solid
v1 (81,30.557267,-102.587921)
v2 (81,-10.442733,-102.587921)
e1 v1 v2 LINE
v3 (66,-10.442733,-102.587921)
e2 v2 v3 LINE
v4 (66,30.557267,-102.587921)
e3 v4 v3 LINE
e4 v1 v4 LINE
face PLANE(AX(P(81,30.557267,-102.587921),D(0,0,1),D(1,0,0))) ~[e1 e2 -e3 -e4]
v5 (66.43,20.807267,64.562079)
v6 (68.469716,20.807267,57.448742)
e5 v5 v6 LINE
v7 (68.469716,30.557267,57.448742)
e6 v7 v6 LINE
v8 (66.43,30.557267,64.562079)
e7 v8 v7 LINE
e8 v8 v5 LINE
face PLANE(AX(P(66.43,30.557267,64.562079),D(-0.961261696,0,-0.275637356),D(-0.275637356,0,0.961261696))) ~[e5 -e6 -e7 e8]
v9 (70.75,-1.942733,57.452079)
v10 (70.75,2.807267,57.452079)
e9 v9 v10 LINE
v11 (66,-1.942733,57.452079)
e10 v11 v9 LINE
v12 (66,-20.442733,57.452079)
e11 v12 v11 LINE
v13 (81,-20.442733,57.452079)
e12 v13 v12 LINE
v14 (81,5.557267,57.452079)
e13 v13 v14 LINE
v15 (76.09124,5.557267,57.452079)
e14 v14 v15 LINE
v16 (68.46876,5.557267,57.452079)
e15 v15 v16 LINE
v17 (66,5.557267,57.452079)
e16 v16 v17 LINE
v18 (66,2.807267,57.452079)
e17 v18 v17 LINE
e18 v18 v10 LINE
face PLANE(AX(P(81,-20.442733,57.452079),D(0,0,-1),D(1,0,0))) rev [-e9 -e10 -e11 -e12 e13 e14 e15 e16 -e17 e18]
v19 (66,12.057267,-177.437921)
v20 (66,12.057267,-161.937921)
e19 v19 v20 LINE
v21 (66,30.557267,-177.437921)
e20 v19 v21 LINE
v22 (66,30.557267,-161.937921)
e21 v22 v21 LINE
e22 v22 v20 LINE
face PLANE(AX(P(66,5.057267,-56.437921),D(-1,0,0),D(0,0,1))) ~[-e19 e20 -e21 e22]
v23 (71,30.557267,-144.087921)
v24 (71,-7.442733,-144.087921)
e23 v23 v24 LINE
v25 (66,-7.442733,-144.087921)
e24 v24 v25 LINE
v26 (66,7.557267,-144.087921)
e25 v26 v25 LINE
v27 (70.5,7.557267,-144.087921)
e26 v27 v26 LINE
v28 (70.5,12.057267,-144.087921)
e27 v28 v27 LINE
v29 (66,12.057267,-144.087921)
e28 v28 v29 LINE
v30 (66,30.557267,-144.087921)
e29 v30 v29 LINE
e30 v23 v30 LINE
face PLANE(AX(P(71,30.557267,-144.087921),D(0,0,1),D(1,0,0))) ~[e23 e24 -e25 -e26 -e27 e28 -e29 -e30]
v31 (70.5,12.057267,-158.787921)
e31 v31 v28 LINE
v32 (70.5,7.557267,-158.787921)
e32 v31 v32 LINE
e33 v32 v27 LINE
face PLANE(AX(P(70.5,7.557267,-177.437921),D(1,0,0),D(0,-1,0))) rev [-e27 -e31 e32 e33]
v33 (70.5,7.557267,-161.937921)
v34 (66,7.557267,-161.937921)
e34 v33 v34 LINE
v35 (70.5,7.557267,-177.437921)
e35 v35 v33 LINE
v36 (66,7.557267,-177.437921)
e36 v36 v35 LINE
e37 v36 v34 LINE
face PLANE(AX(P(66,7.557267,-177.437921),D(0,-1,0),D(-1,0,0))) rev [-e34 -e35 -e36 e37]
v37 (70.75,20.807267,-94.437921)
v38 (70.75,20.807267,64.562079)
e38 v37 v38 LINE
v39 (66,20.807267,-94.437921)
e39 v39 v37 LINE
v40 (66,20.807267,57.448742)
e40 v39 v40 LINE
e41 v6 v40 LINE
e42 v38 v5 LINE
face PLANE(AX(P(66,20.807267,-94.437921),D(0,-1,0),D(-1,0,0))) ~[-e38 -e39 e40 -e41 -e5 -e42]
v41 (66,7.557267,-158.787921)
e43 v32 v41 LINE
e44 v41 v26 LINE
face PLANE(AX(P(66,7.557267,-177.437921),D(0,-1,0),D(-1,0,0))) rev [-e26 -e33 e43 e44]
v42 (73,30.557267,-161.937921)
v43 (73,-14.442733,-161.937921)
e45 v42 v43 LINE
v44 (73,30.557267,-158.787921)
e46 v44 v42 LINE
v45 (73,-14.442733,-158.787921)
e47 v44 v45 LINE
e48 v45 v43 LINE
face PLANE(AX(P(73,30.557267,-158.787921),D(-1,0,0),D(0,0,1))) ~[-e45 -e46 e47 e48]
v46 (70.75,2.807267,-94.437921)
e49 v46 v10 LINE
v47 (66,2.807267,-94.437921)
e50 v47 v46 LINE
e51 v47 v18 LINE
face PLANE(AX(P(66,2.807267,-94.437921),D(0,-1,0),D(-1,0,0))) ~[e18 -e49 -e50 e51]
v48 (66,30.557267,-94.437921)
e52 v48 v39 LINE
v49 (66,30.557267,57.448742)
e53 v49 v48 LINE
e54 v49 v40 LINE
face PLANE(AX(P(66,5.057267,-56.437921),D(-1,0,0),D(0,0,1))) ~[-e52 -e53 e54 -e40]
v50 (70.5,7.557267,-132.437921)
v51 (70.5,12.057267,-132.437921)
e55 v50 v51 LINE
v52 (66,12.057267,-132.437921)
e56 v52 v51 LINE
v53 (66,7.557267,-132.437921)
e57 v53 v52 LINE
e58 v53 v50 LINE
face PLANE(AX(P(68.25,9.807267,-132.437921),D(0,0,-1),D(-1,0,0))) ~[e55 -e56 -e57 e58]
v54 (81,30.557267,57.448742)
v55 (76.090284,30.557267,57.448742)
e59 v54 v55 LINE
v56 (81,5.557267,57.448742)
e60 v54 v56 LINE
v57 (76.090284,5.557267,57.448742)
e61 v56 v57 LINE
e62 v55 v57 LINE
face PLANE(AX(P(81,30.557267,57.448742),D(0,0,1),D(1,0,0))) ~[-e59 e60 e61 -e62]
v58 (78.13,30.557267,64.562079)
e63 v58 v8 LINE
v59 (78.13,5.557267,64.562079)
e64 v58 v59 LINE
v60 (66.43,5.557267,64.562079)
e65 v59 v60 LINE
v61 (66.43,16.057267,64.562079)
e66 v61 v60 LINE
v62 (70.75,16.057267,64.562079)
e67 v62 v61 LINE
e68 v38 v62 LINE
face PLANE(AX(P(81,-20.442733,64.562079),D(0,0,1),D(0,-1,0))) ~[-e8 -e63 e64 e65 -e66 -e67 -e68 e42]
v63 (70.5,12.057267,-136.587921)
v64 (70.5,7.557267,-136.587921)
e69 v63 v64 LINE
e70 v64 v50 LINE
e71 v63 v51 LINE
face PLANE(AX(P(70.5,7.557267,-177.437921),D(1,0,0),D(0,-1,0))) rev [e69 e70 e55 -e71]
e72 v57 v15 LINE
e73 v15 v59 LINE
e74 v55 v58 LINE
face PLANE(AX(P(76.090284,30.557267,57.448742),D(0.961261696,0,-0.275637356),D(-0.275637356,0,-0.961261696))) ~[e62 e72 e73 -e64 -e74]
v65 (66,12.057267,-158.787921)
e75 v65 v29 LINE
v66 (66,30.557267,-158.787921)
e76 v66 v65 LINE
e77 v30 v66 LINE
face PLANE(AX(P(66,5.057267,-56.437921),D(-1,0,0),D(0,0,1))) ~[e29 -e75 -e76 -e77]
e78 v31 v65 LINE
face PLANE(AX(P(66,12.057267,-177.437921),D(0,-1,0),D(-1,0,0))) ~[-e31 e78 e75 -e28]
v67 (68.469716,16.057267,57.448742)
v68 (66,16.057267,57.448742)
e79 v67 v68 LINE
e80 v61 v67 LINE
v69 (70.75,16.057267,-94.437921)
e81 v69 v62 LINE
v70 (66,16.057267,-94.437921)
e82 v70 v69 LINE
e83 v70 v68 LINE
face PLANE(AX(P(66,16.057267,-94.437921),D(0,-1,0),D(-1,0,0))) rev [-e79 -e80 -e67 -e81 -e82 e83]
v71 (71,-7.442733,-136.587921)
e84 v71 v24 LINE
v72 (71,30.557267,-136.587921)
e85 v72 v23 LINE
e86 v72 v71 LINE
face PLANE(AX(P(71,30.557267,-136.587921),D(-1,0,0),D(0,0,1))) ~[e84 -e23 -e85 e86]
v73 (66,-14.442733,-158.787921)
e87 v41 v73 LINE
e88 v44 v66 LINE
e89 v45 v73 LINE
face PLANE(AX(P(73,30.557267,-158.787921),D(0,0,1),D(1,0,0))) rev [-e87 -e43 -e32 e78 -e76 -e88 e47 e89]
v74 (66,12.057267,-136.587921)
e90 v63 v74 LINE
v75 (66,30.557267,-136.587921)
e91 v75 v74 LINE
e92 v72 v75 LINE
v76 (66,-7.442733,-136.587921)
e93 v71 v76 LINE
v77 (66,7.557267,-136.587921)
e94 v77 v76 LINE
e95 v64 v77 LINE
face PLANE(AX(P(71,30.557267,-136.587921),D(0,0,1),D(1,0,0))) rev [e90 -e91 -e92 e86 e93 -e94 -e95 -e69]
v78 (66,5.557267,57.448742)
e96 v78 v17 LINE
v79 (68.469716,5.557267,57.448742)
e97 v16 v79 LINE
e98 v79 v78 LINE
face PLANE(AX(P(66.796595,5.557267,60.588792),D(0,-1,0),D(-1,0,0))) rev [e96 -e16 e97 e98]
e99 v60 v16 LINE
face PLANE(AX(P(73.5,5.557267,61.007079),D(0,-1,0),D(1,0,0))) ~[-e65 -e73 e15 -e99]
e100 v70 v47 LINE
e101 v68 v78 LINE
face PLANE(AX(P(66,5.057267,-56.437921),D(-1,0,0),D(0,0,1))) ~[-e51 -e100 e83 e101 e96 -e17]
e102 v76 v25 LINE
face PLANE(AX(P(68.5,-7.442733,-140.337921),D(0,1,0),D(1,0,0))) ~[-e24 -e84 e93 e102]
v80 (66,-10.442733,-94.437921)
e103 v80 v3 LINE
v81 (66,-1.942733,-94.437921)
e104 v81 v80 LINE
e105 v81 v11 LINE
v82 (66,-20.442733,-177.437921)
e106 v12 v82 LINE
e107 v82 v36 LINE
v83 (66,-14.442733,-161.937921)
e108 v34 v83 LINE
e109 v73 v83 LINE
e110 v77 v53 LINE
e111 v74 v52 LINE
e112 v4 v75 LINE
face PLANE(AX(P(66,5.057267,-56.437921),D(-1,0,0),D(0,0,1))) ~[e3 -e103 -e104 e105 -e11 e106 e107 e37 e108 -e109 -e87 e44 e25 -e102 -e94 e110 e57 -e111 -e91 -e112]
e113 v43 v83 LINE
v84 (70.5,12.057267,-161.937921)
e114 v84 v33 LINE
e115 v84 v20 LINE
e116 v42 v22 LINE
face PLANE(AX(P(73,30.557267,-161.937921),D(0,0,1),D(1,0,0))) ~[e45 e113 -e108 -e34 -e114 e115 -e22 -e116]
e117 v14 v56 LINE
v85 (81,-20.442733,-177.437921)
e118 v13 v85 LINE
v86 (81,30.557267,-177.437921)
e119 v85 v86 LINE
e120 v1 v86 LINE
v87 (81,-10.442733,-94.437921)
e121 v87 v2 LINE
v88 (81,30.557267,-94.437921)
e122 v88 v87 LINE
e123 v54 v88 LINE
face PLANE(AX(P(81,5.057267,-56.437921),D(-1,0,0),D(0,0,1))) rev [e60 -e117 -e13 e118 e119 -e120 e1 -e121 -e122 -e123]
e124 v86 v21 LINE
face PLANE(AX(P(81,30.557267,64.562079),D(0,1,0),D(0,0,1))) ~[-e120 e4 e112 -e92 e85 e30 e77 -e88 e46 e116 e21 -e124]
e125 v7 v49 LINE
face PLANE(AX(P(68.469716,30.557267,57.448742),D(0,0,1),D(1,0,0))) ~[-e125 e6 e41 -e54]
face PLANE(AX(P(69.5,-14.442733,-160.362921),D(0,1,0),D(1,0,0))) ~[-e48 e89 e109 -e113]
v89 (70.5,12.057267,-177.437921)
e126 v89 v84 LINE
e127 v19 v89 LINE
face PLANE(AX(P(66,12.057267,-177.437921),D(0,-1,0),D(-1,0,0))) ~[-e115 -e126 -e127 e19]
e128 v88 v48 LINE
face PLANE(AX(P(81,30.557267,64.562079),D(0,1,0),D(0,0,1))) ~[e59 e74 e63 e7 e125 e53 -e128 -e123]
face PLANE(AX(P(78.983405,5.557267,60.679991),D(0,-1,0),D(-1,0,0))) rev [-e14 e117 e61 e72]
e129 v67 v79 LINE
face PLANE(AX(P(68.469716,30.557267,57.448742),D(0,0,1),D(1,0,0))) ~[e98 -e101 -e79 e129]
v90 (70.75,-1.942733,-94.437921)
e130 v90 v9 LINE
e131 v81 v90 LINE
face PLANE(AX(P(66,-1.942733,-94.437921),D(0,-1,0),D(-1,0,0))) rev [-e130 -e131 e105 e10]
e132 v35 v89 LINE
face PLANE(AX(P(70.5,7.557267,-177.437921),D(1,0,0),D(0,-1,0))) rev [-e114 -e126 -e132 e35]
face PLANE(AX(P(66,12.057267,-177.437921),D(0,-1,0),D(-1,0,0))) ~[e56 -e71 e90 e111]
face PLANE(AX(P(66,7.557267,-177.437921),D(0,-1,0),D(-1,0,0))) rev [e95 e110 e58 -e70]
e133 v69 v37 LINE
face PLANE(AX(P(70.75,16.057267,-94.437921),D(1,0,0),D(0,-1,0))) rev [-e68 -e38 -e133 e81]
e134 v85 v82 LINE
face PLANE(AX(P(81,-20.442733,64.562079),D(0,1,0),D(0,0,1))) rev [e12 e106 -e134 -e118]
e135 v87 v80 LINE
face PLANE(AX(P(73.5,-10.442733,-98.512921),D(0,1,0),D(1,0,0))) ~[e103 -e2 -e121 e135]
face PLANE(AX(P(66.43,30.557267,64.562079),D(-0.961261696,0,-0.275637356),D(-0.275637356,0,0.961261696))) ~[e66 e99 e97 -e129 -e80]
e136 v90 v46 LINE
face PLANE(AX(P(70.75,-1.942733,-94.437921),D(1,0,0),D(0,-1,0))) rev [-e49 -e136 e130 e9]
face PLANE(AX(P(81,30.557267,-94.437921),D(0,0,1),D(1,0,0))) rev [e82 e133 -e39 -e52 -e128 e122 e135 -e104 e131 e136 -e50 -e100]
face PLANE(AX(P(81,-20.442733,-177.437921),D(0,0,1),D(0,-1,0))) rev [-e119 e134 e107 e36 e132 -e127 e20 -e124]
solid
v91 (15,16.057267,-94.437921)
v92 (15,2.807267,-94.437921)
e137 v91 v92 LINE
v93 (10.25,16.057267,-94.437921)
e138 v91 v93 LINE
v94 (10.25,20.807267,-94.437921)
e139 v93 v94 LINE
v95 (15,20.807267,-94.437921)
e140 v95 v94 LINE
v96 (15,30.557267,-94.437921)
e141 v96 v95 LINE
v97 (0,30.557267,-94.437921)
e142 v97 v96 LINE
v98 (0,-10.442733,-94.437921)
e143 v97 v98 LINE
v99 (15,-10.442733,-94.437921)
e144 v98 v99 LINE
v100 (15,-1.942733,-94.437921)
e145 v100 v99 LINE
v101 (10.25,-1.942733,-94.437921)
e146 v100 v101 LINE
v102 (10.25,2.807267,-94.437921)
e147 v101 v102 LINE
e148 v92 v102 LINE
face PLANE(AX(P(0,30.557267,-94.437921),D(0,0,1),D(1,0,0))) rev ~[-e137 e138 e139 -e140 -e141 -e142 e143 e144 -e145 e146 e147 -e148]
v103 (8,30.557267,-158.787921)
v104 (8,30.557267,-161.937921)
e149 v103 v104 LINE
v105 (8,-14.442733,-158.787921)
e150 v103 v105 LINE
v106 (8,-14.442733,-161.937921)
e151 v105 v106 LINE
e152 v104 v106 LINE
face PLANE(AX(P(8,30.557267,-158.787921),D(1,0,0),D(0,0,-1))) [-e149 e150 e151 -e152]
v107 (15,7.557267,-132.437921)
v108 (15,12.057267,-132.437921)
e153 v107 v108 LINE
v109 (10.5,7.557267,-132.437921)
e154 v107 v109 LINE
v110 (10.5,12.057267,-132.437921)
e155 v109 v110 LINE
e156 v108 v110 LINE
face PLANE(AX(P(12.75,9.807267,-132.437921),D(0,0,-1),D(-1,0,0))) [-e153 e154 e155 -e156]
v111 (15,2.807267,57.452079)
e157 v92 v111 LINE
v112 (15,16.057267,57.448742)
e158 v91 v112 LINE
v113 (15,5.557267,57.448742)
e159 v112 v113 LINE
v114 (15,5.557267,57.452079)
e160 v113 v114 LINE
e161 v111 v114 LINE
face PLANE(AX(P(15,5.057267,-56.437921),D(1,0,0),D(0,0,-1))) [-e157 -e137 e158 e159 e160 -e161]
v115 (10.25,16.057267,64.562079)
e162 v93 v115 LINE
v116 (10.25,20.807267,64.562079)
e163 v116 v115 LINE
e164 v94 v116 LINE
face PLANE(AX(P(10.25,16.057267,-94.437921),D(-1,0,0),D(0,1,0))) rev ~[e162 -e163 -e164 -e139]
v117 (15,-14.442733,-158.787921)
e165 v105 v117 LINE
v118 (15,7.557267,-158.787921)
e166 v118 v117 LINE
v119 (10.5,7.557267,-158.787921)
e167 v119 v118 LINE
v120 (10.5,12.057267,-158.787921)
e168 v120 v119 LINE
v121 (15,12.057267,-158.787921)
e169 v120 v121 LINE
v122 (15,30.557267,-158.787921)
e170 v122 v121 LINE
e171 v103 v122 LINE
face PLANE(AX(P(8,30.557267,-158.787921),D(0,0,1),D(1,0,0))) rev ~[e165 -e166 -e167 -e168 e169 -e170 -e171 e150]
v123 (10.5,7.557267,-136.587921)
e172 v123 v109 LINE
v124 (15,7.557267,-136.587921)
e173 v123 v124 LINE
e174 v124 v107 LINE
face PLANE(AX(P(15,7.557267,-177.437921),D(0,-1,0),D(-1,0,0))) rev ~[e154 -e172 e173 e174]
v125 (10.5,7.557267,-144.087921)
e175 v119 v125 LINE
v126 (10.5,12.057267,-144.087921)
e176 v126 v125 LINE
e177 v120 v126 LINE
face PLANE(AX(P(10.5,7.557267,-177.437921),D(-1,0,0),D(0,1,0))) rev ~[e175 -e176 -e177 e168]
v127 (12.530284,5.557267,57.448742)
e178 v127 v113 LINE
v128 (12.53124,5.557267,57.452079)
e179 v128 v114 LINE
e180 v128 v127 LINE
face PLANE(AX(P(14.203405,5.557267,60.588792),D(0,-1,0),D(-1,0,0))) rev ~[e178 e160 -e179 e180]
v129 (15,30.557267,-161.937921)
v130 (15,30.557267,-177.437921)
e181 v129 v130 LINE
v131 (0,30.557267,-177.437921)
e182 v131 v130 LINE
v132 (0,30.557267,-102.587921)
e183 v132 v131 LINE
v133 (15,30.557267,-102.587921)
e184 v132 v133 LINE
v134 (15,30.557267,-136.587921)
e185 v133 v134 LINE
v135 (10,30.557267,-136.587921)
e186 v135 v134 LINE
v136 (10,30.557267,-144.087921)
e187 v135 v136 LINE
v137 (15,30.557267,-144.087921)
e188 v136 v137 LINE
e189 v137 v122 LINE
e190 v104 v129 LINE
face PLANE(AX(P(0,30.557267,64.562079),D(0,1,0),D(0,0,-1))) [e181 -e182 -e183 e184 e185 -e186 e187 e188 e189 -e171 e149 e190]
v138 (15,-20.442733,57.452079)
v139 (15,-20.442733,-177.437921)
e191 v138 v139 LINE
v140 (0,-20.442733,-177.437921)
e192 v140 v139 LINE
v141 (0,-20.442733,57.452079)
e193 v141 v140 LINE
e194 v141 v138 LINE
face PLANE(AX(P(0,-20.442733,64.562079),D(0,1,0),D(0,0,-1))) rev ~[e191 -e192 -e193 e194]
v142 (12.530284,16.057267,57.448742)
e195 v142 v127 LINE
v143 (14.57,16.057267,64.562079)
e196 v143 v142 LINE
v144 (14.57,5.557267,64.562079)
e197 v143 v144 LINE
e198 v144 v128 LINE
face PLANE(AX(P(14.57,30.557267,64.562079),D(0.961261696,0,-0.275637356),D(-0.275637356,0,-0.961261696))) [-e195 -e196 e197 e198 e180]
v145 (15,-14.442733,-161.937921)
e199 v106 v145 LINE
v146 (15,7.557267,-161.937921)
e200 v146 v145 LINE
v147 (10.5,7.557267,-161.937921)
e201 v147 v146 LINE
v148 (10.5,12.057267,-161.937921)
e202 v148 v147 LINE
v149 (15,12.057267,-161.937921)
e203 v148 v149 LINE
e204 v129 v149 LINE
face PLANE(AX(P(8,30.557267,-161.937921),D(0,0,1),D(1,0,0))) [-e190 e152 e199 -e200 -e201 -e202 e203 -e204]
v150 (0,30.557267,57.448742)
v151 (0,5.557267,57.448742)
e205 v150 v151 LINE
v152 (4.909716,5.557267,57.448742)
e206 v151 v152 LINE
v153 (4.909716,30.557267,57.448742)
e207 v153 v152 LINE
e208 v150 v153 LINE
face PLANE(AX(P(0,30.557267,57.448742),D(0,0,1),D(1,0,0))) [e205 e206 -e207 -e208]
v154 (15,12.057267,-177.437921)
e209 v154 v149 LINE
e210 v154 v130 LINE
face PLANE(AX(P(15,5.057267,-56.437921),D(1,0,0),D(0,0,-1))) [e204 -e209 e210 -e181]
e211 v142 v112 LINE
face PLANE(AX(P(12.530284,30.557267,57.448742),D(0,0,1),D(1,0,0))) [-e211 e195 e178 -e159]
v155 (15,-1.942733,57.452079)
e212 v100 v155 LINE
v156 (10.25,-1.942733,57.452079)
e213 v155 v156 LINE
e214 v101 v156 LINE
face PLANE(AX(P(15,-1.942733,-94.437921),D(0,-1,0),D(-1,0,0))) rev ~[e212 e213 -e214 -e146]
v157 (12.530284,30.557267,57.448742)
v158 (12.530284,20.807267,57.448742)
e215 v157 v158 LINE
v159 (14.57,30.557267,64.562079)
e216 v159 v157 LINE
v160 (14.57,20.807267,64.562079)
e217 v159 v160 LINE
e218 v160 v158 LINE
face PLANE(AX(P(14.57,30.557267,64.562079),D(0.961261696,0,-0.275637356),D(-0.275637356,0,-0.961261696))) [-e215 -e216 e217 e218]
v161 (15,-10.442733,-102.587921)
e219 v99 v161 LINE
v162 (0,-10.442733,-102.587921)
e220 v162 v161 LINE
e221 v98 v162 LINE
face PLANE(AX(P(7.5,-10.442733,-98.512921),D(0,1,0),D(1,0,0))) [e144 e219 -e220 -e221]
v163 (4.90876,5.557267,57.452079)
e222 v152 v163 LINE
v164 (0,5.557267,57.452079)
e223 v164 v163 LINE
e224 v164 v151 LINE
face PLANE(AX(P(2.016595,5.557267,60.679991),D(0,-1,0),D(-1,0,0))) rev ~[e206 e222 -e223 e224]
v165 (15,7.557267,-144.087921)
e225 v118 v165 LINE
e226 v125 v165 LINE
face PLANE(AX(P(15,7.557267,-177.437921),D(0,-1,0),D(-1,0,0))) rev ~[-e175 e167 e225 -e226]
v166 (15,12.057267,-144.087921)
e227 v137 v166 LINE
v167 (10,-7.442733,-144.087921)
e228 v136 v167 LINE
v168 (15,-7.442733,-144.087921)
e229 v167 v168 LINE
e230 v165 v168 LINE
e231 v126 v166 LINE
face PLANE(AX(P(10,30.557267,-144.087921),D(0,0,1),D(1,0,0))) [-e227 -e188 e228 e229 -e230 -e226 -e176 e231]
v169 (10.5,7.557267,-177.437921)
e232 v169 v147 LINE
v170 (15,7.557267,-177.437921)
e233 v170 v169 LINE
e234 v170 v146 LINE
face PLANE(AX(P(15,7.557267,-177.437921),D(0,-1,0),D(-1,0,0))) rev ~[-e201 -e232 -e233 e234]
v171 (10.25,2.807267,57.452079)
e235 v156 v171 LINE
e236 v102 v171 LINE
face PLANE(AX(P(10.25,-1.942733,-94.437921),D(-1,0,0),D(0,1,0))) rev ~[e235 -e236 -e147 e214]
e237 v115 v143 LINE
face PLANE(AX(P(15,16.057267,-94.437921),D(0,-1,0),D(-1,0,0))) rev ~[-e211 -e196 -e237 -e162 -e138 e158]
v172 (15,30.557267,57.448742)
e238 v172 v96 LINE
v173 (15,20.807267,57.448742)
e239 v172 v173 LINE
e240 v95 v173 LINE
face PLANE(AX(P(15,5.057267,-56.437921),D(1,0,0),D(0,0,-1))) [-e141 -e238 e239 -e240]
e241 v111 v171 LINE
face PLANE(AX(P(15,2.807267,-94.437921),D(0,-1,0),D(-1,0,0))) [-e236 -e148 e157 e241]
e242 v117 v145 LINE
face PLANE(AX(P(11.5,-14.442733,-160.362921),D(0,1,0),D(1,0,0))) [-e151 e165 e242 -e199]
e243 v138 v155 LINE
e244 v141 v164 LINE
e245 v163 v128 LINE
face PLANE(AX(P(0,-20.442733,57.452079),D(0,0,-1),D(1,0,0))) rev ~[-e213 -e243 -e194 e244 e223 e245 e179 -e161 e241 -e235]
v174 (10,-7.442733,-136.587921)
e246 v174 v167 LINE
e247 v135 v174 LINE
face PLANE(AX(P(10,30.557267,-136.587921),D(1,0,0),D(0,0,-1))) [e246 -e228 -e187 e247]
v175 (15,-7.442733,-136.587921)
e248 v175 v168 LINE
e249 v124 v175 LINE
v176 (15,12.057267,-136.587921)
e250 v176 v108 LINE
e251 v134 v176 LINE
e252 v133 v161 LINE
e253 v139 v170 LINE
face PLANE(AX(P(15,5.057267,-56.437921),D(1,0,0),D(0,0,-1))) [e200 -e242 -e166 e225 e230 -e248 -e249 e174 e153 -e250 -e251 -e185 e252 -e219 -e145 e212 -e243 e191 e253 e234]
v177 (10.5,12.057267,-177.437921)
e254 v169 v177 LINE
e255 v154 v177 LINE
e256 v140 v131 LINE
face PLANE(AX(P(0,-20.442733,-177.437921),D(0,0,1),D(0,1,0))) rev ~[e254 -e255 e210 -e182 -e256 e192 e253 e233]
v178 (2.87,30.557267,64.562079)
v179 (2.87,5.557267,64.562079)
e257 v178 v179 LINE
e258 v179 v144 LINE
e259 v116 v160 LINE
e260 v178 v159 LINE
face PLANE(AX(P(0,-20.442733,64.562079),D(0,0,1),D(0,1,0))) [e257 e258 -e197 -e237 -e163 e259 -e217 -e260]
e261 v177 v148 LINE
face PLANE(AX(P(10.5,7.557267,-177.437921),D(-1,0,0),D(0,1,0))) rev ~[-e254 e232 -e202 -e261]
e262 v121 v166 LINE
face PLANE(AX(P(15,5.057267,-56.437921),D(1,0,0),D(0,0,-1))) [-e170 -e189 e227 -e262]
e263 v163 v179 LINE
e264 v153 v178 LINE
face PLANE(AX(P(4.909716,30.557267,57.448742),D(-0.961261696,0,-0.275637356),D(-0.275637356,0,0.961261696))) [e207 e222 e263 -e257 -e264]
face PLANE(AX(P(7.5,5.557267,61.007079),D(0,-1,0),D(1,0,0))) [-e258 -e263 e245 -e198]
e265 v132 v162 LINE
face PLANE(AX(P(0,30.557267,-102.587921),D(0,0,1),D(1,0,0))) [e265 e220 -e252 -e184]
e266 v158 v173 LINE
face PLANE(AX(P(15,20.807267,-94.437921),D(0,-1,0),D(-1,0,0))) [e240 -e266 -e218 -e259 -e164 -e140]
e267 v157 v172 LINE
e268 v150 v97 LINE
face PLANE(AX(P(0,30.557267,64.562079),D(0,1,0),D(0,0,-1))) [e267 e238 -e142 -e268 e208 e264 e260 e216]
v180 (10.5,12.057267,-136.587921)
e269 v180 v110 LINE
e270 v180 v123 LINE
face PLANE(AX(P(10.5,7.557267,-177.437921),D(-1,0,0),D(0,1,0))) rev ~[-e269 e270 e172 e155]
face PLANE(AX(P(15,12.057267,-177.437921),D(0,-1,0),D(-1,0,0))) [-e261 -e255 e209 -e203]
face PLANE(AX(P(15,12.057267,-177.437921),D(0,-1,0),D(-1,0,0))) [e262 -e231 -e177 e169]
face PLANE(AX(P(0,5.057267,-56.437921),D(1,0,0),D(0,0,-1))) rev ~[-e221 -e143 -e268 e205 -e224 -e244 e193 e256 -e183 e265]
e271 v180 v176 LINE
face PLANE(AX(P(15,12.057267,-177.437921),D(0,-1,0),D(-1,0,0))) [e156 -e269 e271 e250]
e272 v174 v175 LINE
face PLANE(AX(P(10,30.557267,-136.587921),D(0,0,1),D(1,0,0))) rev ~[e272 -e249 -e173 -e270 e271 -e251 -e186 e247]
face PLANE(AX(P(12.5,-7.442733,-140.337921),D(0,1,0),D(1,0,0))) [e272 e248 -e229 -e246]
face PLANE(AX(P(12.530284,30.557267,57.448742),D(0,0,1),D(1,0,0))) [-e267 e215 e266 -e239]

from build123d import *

# Parameters (mm, degrees)
SKETCH1_W           = 242
SKETCH1_H           = 51
BOSS_EXTRUDE1_DEPTH = 15
CUT_EXTRUDE8_DEPTH  = 25
SKETCH13_W          = 15
SKETCH13_H          = 7.11
CUT_EXTRUDE9_DEPTH  = 26
SKETCH17_W          = 15
SKETCH17_H          = 8.15
CUT_EXTRUDE10_DEPTH = 41
SKETCH7_W           = 4.75
SKETCH7_H           = 4.75
CUT_EXTRUDE5_DEPTH  = 165
SKETCH22_W          = 7
SKETCH22_H          = 3.15
CUT_EXTRUDE13_DEPTH = 45
SKETCH18_W          = 5
SKETCH18_H          = 7.5
CUT_EXTRUDE11_DEPTH = 38
SKETCH23_W          = 4.5
SKETCH23_H          = 4.5
CUT_EXTRUDE14_DEPTH = 45


with BuildPart() as part:
    # Sketch1 → Boss-Extrude1 (new body)
    with BuildSketch(Plane(origin=(0, 0, 0), x_dir=(0, 0, -1), z_dir=(1, 0, 0))):
        with Locations((56.437921078, 5.057266603)):
            Rectangle(SKETCH1_W, SKETCH1_H)
    extrude(amount=BOSS_EXTRUDE1_DEPTH)

    # Sketch12 → Cut-Extrude8 (cut)
    with BuildSketch(Plane(origin=(0, 30.557266603, 0), x_dir=(1, 0, 0), z_dir=(0, 1, 0))):
        Polygon((0, -57.448742372), (4.909716433, -57.448742372), (2.87, -64.562078922), (0, -64.562078922), align=None)
        Polygon((15, -57.448742372), (15, -64.562078922), (14.57, -64.562078922), (12.530283567, -57.448742372), align=None)
    extrude(amount=-CUT_EXTRUDE8_DEPTH, mode=Mode.SUBTRACT)

    # Sketch13 → Cut-Extrude9 (cut)
    with BuildSketch(Plane.XZ.offset(20.442733397)):
        with Locations((7.5, 61.007078922)):
            Rectangle(SKETCH13_W, SKETCH13_H)
    extrude(amount=-CUT_EXTRUDE9_DEPTH, mode=Mode.SUBTRACT)

    # Sketch17 → Cut-Extrude10 (cut)
    with BuildSketch(Plane(origin=(0, 30.557266603, 0), x_dir=(1, 0, 0), z_dir=(0, 1, 0))):
        with Locations((7.5, 98.512921078)):
            Rectangle(SKETCH17_W, SKETCH17_H)
    extrude(amount=-CUT_EXTRUDE10_DEPTH, mode=Mode.SUBTRACT)

    # Sketch7 → Cut-Extrude5 (cut)
    with BuildSketch(Plane(origin=(0, 0, -94.437921078), x_dir=(-1, 0, 0), z_dir=(0, 0, -1))):
        with Locations((-12.625, 0.432266603)):
            Rectangle(SKETCH7_W, SKETCH7_H)
        with Locations((-12.625, 18.432266603)):
            Rectangle(SKETCH7_W, SKETCH7_H)
    extrude(amount=-CUT_EXTRUDE5_DEPTH, mode=Mode.SUBTRACT)

    # Sketch22 → Cut-Extrude13 (cut)
    with BuildSketch(Plane(origin=(0, 30.557266603, 0), x_dir=(1, 0, 0), z_dir=(0, 1, 0))):
        with Locations((11.5, 160.362921078)):
            Rectangle(SKETCH22_W, SKETCH22_H)
    extrude(amount=-CUT_EXTRUDE13_DEPTH, mode=Mode.SUBTRACT)

    # Sketch18 → Cut-Extrude11 (cut)
    with BuildSketch(Plane(origin=(0, 30.557266603, 0), x_dir=(1, 0, 0), z_dir=(0, 1, 0))):
        with Locations((12.5, 140.337921078)):
            Rectangle(SKETCH18_W, SKETCH18_H)
    extrude(amount=-CUT_EXTRUDE11_DEPTH, mode=Mode.SUBTRACT)

    # Sketch23 → Cut-Extrude14 (cut)
    with BuildSketch(Plane(origin=(0, 0, -177.437921078), x_dir=(-1, 0, 0), z_dir=(0, 0, -1))):
        with Locations((-12.75, 9.807266603)):
            Rectangle(SKETCH23_W, SKETCH23_H)
    extrude(amount=-CUT_EXTRUDE14_DEPTH, mode=Mode.SUBTRACT)


with BuildPart() as body_2:
    # Mirror4: mirrored copy
    add(part.part.mirror(Plane(origin=(40.5, 0, 0), x_dir=(0, 0, 1), z_dir=(1, 0, 0))))


solid = Compound([part.part, body_2.part])
